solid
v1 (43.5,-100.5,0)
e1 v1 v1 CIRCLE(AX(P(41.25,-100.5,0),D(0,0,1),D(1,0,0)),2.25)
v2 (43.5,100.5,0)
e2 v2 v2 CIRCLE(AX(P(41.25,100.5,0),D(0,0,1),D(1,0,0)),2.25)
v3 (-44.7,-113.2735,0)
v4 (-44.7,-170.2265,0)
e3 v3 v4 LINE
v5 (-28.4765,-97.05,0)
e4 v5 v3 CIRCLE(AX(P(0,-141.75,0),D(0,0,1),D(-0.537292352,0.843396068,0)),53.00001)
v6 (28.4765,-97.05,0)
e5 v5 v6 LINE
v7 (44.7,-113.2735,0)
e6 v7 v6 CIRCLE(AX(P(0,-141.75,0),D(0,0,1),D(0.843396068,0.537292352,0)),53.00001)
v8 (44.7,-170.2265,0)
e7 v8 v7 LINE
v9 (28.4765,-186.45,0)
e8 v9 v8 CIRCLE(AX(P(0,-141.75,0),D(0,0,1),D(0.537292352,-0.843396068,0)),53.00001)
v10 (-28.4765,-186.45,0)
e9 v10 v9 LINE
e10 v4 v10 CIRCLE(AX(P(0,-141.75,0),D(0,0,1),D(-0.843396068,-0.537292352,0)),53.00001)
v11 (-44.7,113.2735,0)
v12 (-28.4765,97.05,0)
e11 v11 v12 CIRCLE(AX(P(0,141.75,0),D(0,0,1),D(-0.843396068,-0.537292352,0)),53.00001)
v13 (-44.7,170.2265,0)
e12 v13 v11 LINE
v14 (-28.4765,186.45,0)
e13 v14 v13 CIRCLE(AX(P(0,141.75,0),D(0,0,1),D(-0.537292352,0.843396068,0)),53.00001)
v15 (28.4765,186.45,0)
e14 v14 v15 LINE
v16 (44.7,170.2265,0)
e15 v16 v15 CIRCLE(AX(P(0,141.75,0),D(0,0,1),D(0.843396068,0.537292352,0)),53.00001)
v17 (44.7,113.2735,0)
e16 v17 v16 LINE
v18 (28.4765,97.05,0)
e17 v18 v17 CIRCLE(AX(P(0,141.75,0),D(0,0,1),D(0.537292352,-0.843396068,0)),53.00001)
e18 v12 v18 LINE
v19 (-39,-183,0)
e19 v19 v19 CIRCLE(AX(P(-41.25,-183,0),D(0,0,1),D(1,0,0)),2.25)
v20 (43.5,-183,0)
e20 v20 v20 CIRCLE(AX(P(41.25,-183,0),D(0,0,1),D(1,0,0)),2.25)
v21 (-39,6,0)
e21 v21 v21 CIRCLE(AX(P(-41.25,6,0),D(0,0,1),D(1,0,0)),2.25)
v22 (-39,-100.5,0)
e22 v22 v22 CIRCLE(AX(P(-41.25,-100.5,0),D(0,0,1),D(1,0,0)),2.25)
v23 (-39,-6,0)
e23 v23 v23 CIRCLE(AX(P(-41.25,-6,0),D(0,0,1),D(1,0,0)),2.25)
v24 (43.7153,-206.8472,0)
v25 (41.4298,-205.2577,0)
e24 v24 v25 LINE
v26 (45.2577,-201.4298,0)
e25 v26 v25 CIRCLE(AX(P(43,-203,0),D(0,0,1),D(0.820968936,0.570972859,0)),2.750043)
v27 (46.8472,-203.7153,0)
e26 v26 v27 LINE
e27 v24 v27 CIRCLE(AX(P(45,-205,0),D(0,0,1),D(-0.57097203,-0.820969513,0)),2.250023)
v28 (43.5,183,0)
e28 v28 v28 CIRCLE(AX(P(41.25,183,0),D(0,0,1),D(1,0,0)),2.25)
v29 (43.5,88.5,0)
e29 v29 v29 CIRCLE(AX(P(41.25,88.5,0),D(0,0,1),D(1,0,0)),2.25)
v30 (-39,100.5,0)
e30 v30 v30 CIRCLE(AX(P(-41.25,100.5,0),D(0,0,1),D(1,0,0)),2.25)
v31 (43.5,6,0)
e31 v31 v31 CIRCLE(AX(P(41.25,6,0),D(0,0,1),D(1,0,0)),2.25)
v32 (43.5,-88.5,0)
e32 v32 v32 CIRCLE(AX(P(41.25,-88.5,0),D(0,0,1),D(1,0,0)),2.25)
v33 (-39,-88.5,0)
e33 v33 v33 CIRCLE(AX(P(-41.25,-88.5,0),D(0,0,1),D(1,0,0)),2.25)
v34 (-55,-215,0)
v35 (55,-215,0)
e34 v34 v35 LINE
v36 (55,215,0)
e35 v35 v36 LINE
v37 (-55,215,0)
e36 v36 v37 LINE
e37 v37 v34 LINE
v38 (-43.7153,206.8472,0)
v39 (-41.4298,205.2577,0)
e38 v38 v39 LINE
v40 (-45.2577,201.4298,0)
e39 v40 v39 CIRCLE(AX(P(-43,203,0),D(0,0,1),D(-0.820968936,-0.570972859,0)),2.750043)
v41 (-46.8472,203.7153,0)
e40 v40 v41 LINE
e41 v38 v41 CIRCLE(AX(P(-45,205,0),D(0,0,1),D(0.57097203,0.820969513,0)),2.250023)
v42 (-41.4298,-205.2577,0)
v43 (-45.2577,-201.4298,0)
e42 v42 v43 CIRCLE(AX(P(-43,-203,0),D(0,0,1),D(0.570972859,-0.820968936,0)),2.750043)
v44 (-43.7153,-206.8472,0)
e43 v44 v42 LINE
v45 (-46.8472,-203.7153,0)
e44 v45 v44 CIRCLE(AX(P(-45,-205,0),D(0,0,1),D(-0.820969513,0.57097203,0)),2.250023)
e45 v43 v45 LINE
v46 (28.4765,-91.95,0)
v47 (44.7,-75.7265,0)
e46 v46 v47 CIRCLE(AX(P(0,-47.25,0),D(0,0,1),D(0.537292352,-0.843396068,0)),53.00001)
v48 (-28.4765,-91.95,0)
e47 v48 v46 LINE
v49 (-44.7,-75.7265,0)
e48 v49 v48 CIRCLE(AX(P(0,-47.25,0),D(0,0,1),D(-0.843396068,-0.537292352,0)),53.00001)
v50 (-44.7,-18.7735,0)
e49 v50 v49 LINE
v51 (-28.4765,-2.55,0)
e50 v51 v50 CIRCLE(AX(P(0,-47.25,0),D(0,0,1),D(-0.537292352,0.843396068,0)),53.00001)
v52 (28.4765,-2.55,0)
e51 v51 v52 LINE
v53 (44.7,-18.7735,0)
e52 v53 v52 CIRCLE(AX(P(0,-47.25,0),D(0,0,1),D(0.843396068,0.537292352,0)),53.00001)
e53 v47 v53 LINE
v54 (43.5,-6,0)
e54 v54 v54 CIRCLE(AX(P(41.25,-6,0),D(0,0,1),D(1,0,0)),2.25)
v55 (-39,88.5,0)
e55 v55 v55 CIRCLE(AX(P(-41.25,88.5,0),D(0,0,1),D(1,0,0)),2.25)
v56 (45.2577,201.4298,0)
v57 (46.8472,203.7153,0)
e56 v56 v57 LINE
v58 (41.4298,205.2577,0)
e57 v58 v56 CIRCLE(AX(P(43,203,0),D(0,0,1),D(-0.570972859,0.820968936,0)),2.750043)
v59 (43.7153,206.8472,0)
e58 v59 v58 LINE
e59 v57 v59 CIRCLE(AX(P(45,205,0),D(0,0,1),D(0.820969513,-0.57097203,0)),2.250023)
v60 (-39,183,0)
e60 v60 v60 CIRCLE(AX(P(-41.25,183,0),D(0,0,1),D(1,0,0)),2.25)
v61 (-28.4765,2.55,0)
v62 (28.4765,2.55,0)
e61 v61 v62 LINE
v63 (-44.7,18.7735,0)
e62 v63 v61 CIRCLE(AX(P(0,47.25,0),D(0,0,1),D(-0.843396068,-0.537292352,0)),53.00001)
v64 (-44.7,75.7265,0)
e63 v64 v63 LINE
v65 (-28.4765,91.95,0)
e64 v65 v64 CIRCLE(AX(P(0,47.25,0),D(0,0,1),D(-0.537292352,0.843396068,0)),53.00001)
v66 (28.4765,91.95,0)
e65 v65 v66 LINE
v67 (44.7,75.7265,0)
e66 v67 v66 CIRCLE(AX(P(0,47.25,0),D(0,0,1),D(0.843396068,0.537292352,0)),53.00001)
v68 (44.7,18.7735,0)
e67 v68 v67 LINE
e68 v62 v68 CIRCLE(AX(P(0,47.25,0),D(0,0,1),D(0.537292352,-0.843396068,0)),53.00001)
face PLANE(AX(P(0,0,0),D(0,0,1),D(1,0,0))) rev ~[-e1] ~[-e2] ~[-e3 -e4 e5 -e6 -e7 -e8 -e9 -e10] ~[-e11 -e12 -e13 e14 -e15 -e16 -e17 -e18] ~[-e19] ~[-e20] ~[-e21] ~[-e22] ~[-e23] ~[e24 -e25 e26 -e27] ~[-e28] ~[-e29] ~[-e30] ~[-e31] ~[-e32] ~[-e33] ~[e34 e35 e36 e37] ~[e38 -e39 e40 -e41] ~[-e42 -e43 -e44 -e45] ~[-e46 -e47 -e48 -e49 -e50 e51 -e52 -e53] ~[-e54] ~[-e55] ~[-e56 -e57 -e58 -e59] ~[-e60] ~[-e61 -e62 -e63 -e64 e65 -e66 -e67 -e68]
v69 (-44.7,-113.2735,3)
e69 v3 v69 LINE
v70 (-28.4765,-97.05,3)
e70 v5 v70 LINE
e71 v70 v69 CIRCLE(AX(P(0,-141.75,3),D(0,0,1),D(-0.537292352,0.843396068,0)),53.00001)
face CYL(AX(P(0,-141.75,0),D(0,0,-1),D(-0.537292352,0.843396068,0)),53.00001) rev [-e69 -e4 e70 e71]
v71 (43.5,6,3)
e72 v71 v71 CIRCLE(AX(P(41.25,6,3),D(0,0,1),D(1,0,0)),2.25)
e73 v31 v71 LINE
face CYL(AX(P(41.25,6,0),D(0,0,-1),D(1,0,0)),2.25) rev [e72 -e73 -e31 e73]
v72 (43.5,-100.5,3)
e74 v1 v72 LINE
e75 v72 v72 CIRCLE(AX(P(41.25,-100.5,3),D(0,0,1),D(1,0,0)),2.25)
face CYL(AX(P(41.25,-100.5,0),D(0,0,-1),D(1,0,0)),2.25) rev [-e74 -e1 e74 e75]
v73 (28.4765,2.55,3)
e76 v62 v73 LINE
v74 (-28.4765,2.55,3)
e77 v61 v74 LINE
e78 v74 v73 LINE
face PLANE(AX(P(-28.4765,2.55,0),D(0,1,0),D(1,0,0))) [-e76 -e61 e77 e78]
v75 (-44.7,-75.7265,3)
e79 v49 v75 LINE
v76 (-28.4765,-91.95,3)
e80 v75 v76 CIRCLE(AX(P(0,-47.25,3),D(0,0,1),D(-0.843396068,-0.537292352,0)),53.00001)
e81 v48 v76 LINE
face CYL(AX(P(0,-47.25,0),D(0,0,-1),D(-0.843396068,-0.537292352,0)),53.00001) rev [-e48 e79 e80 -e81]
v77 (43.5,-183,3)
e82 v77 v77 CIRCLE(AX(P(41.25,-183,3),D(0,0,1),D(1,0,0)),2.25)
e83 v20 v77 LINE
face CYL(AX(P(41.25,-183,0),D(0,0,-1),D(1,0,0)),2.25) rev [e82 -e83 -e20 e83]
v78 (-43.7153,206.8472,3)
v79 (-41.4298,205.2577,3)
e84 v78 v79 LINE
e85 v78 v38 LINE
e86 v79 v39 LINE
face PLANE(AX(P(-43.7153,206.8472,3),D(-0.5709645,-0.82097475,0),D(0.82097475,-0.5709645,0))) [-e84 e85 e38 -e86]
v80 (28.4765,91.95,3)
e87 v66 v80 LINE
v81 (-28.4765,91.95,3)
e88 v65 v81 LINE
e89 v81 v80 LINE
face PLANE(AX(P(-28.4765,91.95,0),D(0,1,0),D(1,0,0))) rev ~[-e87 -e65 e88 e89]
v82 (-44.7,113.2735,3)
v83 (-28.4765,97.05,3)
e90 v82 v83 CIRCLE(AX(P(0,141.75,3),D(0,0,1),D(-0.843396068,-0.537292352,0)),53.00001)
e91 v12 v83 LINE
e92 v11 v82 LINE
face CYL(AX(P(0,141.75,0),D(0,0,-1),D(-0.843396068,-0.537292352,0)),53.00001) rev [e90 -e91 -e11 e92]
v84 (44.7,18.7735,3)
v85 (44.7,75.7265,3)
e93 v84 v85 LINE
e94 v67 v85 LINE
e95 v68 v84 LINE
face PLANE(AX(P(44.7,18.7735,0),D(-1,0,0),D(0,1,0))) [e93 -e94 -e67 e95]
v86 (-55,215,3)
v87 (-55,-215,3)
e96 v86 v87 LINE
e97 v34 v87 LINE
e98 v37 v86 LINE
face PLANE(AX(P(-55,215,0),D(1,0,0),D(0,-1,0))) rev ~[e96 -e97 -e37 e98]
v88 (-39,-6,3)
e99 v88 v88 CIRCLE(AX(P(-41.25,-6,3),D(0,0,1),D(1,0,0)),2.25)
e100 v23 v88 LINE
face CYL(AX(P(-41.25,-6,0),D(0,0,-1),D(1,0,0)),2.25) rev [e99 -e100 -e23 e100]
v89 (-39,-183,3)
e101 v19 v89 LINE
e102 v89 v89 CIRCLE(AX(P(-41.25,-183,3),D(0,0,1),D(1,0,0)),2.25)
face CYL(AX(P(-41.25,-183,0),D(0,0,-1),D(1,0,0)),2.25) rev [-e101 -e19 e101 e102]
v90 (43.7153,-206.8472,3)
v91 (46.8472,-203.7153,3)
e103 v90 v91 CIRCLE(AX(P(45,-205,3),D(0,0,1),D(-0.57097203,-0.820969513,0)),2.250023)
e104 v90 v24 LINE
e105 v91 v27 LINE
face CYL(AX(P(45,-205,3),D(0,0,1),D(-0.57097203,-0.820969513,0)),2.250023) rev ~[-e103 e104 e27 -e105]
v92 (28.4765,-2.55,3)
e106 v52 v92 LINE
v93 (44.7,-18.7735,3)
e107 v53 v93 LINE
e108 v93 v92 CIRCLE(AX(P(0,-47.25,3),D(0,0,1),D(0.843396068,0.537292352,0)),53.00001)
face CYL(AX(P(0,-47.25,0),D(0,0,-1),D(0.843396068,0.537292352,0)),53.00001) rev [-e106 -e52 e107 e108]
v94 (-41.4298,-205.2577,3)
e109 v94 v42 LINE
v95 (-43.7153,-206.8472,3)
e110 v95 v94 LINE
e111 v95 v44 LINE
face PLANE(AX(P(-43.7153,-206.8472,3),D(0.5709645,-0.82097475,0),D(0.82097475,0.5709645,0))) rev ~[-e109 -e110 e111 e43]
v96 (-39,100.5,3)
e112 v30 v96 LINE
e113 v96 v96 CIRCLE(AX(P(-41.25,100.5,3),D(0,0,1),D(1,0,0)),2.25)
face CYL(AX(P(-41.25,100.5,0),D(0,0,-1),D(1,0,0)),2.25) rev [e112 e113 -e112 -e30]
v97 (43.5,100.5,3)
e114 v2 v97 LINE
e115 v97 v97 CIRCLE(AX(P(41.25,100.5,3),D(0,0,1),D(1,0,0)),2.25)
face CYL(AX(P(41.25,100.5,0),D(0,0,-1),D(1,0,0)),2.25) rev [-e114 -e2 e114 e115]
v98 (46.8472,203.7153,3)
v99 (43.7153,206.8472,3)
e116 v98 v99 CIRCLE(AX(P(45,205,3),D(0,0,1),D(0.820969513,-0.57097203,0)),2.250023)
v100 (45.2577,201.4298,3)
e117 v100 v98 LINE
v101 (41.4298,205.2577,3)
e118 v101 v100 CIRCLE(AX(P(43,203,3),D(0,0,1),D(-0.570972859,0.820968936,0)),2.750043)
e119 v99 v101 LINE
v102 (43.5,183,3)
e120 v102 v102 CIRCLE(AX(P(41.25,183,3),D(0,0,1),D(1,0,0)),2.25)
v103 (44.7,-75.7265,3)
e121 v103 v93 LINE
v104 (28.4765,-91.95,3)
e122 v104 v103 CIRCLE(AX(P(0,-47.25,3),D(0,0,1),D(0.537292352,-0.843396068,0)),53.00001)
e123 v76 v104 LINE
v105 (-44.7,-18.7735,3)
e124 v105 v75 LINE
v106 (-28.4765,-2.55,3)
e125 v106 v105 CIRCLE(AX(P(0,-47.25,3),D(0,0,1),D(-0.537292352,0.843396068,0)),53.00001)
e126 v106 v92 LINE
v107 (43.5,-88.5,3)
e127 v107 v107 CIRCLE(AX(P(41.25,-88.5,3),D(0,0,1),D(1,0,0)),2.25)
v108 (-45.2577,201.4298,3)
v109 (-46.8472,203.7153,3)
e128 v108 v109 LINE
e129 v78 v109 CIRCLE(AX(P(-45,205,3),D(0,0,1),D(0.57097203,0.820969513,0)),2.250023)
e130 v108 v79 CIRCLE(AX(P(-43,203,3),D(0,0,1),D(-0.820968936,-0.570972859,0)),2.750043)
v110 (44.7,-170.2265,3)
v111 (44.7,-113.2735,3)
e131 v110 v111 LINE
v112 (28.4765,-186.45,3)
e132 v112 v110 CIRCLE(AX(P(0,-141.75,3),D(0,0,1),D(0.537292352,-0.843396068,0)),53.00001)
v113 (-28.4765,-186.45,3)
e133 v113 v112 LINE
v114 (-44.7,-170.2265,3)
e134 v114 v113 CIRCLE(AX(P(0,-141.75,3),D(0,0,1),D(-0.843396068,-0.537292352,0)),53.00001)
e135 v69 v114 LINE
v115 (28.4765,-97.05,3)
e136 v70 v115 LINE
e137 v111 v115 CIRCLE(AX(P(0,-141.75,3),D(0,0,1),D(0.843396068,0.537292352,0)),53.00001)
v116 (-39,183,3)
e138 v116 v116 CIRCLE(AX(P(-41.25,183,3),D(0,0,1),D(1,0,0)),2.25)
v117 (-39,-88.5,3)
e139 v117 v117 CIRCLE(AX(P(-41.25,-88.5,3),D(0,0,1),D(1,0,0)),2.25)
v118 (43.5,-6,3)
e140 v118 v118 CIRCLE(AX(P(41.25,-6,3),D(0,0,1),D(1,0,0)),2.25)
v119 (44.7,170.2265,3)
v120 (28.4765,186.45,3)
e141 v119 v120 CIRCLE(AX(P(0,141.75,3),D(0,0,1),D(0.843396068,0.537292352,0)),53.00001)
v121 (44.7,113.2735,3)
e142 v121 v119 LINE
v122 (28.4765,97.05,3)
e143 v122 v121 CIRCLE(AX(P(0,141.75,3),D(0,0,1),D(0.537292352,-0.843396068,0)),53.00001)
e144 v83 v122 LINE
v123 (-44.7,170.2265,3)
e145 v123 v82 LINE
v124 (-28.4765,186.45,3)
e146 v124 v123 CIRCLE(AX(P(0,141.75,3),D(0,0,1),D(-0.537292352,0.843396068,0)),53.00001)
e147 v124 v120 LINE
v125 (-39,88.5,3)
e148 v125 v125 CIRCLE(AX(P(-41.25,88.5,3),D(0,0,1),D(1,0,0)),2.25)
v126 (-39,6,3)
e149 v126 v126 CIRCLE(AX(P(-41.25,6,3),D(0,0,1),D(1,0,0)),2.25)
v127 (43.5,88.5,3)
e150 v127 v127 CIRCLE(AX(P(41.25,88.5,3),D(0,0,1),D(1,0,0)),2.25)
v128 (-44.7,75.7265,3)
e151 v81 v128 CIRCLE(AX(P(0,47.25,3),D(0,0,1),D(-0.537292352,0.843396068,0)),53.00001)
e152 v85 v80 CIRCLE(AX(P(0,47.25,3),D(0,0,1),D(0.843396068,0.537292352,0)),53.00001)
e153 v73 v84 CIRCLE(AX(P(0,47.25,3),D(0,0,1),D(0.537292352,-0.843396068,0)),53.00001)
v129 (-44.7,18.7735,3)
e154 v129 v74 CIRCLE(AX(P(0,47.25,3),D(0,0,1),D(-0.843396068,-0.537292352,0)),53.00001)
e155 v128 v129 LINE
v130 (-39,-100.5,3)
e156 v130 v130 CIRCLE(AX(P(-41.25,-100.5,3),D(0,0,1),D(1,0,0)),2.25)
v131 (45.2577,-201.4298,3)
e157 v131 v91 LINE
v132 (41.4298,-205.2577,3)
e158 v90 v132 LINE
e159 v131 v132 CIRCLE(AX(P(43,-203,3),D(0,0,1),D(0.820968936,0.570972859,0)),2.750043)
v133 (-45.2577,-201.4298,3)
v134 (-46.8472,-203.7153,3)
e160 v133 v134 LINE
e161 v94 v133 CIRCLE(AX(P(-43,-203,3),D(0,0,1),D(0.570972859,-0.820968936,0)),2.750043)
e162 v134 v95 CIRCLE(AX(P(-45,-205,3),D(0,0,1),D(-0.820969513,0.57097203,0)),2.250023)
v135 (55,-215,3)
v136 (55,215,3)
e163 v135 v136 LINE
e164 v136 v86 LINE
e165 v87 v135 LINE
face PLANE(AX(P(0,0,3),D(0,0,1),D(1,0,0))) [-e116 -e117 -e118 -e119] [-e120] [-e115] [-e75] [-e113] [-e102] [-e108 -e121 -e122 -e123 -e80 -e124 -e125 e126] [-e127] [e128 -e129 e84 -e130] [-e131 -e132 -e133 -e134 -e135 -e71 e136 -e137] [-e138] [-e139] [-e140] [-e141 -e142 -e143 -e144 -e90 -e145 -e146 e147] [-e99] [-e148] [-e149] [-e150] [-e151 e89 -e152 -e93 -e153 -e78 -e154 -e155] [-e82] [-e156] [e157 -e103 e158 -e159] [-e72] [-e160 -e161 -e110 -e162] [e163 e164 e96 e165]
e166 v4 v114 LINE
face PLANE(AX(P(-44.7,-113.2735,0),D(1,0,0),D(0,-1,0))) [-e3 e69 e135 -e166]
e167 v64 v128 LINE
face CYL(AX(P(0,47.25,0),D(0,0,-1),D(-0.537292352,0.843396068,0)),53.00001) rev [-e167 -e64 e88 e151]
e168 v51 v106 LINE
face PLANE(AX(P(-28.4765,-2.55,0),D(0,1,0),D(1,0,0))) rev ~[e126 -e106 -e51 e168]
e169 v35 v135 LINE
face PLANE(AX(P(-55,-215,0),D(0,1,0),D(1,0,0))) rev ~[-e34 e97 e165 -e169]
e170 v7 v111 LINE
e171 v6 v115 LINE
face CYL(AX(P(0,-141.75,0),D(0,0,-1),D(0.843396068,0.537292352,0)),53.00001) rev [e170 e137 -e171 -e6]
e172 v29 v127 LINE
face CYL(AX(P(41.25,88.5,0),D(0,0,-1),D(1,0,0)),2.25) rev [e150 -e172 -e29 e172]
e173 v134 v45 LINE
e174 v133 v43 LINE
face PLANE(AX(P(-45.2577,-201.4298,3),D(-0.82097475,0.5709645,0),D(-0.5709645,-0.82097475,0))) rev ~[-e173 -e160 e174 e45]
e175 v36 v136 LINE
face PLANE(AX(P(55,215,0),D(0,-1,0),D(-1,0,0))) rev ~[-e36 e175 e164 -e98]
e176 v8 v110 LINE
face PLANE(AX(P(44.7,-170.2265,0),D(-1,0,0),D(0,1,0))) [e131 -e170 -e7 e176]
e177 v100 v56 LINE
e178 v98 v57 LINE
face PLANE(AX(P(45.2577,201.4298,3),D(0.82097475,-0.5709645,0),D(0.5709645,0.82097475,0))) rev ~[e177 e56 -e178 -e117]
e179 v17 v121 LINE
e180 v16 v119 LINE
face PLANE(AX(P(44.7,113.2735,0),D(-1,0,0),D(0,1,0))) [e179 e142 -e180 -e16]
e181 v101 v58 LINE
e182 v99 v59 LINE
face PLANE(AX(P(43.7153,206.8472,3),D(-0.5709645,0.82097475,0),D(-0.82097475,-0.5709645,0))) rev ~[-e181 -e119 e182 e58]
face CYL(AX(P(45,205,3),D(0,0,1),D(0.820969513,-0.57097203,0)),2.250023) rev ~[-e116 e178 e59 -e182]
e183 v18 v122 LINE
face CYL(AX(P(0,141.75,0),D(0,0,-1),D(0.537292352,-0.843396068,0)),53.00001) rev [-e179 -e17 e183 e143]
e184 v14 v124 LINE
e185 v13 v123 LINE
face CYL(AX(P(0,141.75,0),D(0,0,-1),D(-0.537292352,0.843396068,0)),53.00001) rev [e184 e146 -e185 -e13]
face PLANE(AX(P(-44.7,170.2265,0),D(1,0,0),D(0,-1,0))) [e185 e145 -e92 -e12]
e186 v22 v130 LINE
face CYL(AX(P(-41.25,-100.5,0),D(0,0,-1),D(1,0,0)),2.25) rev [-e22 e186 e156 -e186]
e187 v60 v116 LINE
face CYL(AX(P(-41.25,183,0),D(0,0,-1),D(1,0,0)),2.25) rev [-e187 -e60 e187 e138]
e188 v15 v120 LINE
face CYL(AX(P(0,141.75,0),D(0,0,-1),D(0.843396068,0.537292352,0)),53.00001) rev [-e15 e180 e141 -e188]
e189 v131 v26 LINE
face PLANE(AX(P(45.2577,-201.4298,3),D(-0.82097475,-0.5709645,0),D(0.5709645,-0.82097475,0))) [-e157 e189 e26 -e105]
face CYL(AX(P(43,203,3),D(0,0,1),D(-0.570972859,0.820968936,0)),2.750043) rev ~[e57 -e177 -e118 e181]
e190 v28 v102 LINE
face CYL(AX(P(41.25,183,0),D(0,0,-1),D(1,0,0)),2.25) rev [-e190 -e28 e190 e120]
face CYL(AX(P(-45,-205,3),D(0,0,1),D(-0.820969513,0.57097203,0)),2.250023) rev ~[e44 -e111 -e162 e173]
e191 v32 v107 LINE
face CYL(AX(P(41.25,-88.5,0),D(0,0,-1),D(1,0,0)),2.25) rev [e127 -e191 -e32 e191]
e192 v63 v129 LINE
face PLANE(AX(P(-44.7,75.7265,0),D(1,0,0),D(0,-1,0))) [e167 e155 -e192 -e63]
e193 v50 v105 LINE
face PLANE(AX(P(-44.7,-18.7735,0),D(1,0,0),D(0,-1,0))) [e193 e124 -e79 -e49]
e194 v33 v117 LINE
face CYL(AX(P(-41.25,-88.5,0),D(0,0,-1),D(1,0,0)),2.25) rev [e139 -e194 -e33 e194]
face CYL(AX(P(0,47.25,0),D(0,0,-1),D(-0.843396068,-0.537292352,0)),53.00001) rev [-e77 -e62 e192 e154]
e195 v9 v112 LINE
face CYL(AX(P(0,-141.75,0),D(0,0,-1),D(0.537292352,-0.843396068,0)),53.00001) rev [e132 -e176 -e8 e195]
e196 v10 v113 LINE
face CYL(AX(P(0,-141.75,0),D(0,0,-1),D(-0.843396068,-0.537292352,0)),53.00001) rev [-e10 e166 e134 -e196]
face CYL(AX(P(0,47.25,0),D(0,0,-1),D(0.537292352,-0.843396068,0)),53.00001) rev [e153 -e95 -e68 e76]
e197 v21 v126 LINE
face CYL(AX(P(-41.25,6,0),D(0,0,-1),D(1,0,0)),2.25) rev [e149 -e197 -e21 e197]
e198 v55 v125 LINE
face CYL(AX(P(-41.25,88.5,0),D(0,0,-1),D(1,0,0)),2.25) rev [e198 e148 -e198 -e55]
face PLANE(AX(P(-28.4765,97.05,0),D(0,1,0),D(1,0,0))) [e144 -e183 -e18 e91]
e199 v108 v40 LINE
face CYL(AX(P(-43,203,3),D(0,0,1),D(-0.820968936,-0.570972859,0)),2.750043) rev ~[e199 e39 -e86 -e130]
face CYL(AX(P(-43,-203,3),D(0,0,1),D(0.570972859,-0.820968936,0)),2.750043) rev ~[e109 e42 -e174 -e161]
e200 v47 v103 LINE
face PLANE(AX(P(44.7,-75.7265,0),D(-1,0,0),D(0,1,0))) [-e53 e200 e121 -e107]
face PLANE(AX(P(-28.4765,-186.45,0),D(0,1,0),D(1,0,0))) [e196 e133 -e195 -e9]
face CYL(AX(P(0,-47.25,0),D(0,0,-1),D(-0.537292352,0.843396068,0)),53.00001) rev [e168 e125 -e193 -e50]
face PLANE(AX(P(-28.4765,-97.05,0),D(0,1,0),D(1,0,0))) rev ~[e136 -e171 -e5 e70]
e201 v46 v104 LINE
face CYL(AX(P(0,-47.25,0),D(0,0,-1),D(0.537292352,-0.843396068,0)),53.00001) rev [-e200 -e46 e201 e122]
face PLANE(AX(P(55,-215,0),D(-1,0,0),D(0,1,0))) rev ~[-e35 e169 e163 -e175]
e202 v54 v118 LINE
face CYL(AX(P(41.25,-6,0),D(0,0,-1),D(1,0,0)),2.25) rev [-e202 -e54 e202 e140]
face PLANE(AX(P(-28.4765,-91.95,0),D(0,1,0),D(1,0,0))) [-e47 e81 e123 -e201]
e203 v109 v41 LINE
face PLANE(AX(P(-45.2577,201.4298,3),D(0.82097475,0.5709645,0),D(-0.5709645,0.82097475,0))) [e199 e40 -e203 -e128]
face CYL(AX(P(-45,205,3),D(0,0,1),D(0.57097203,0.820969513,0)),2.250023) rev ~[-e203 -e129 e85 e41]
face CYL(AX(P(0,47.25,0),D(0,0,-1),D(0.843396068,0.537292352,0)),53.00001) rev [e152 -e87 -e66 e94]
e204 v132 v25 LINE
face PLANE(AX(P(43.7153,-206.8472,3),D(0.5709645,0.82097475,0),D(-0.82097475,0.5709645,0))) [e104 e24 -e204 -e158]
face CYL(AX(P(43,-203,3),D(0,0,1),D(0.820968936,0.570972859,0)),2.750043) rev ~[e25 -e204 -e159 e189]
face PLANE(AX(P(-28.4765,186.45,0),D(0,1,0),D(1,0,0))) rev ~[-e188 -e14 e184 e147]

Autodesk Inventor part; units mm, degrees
ref_plane "YZ Plane" through (0, 0, 0) normal (1, 0, 0) x (0, 1, 0)
ref_plane "XZ Plane" through (0, 0, 0) normal (0, 1, 0) x (-1, 0, 0)
ref_plane "XY Plane" through (0, 0, 0) normal (0, 0, 1) x (1, 0, 0)
sketch "スケッチ1" plane through (0, 0, 0) normal (0, 0, 1) x (1, 0, 0)
  line L0 (-55, -215) -> (55, -215)
  line L1 (55, -215) -> (55, 215)
  line L2 (55, 215) -> (-55, 215)
  line L3 (-55, 215) -> (-55, -215)
  line L4 (-55, -215) -> (55, 215) construction
  line L5 (55, -215) -> (-55, 215) construction
  line L6 (-55, 185) -> (-50, 185) construction
  line L7 (-50, 185) -> (-25, 210) construction
  line L8 (-25, 210) -> (-25, 215) construction
  line L9 (-46, 95.75) -> (46, 95.75) construction
  line L10 (46, 95.75) -> (46, 187.75) construction
  line L11 (46, 187.75) -> (-46, 187.75) construction
  line L12 (-46, 187.75) -> (-46, 95.75) construction
  line L13 (-46, 95.75) -> (46, 187.75) construction
  line L14 (46, 95.75) -> (-46, 187.75) construction
  line L15 (-46, 1.25) -> (46, 1.25) construction
  line L16 (46, 1.25) -> (46, 93.25) construction
  line L17 (46, 93.25) -> (-46, 93.25) construction
  line L18 (-46, 93.25) -> (-46, 1.25) construction
  line L19 (-46, 1.25) -> (46, 93.25) construction
  line L20 (46, 1.25) -> (-46, 93.25) construction
  line L21 (0, 0) -> (0, 141.75) construction
  circle A0 centre (0, 141.75) radius 53 construction
  line L22 (-44.7, 97.05) -> (44.7, 97.05) construction
  line L23 (44.7, 97.05) -> (44.7, 186.45) construction
  line L24 (44.7, 186.45) -> (-44.7, 186.45) construction
  line L25 (-44.7, 186.45) -> (-44.7, 97.05) construction
  line L26 (-44.7, 97.05) -> (44.7, 186.45) construction
  line L27 (44.7, 97.05) -> (-44.7, 186.45) construction
  arc A1 (-28.4765, 186.45) -> (-44.7, 170.2265) centre (0, 141.75) ccw
  arc A2 (-44.7, 113.2735) -> (-28.4765, 97.05) centre (0, 141.75) ccw
  arc A3 (28.4765, 97.05) -> (44.7, 113.2735) centre (0, 141.75) ccw
  arc A4 (44.7, 170.2265) -> (28.4765, 186.45) centre (0, 141.75) ccw
  line L28 (-28.4765, 186.45) -> (28.4765, 186.45)
  line L29 (-44.7, 170.2265) -> (-44.7, 113.2735)
  line L30 (-28.4765, 97.05) -> (28.4765, 97.05)
  line L31 (44.7, 113.2735) -> (44.7, 170.2265)
  line L32 (-41.25, 100.5) -> (41.25, 100.5) construction
  line L33 (41.25, 100.5) -> (41.25, 183) construction
  line L34 (41.25, 183) -> (-41.25, 183) construction
  line L35 (-41.25, 183) -> (-41.25, 100.5) construction
  line L36 (-41.25, 100.5) -> (41.25, 183) construction
  line L37 (41.25, 100.5) -> (-41.25, 183) construction
  circle A5 centre (-41.25, 183) radius 2.25
  circle A6 centre (-41.25, 100.5) radius 2.25
  circle A7 centre (41.25, 100.5) radius 2.25
  circle A8 centre (41.25, 183) radius 2.25
  circle A9 centre (-41.25, 88.5) radius 2.25
  arc A10 (-28.4765, 91.95) -> (-44.7, 75.7265) centre (0, 47.25) ccw
  line L38 (-28.4765, 91.95) -> (28.4765, 91.95)
  arc A11 (44.7, 75.7265) -> (28.4765, 91.95) centre (0, 47.25) ccw
  circle A12 centre (41.25, 88.5) radius 2.25
  line L39 (44.7, 18.7735) -> (44.7, 75.7265)
  arc A13 (28.4765, 2.55) -> (44.7, 18.7735) centre (0, 47.25) ccw
  circle A14 centre (41.25, 6) radius 2.25
  line L40 (-28.4765, 2.55) -> (28.4765, 2.55)
  circle A15 centre (-41.25, 6) radius 2.25
  arc A16 (-44.7, 18.7735) -> (-28.4765, 2.55) centre (0, 47.25) ccw
  line L41 (-44.7, 75.7265) -> (-44.7, 18.7735)
  circle A17 centre (-41.25, -6) radius 2.25
  arc A18 (-28.4765, -2.55) -> (-44.7, -18.7735) centre (0, -47.25) ccw
  line L42 (-28.4765, -2.55) -> (28.4765, -2.55)
  arc A19 (44.7, -18.7735) -> (28.4765, -2.55) centre (0, -47.25) ccw
  circle A20 centre (41.25, -6) radius 2.25
  line L43 (44.7, -75.7265) -> (44.7, -18.7735)
  arc A21 (28.4765, -91.95) -> (44.7, -75.7265) centre (0, -47.25) ccw
  circle A22 centre (41.25, -88.5) radius 2.25
  line L44 (-28.4765, -91.95) -> (28.4765, -91.95)
  circle A23 centre (-41.25, -88.5) radius 2.25
  arc A24 (-44.7, -75.7265) -> (-28.4765, -91.95) centre (0, -47.25) ccw
  line L45 (-44.7, -18.7735) -> (-44.7, -75.7265)
  circle A25 centre (-41.25, -100.5) radius 2.25
  arc A26 (-28.4765, -97.05) -> (-44.7, -113.2735) centre (0, -141.75) ccw
  line L46 (-28.4765, -97.05) -> (28.4765, -97.05)
  arc A27 (44.7, -113.2735) -> (28.4765, -97.05) centre (0, -141.75) ccw
  circle A28 centre (41.25, -100.5) radius 2.25
  line L47 (44.7, -170.2265) -> (44.7, -113.2735)
  arc A29 (28.4765, -186.45) -> (44.7, -170.2265) centre (0, -141.75) ccw
  circle A30 centre (41.25, -183) radius 2.25
  line L48 (-28.4765, -186.45) -> (28.4765, -186.45)
  circle A31 centre (-41.25, -183) radius 2.25
  arc A32 (-44.7, -170.2265) -> (-28.4765, -186.45) centre (0, -141.75) ccw
  line L49 (-44.7, -113.2735) -> (-44.7, -170.2265)
  circle A33 centre (-45, 205) radius 2.25
  circle A34 centre (45, 205) radius 2.25
  circle A35 centre (45, -205) radius 2.25
  circle A36 centre (-45, -205) radius 2.25
  circle A37 centre (-45, 0) radius 2.25
  circle A38 centre (45, 0) radius 2.25
  line L50 (-55, 0) -> (55, 0) construction
  point P0 (0, 47.25)
  point P1 (0, 47.25)
  dimension "d12" = 106
  dimension "d0" = 110
  dimension "d1" = 430
  dimension "d2" = 135
  dimension "d3" = 30
  dimension "d4" = 30
  dimension "d5" = 5
  dimension "d6" = 92
  dimension "d7" = 92
  dimension "d8" = 92
  dimension "d9" = 92
  dimension "d10" = 2.5
  dimension "d11" = 1.25
  dimension "d13" = 89.4
  dimension "d14" = 89.4
  dimension "d15" = 82.5
  dimension "d16" = 82.5
  dimension "d17" = 4.5
  dimension "d20" = 94.5
  dimension "d25" = 4.5
  dimension "d26" = 10
  dimension "d27" = 10
  dimension "d28" = 10
  dimension "d29" = 10
  dimension "d30" = 10
  dimension "d31" = 10
  dimension "d32" = 10
  dimension "d33" = 10
  dimension "d34" = 10
  dimension "d35" = 10
extrude "押し出し1" add sketch "スケッチ1" along normal blind 3 contours L3 L2 L1 L0 | A37 | A38
sketch "スケッチ2" plane through (0, 0, 3) normal (0, 0, 1) x (1, 0, 0)
  circle A0 centre (-45, 205) radius 2.25 construction
  circle A1 centre (45, -205) radius 2.25 construction
  circle A2 centre (-45, -205) radius 2.25 construction
  circle A3 centre (-43, 203) radius 2.75 construction
  line L0 (55, 215) -> (-55, 215) projected
  line L1 (-55, 215) -> (-55, -215) projected
  line L2 (-43.7153, 206.8472) -> (-41.4298, 205.2577)
  line L3 (-45.2577, 201.4298) -> (-46.8472, 203.7153)
  circle A4 centre (-45, 205) radius 2.25 construction
  arc A5 (-43.7153, 206.8472) -> (-46.8472, 203.7153) centre (-45, 205) ccw
  arc A6 (-45.2577, 201.4298) -> (-41.4298, 205.2577) centre (-43, 203) ccw
  line L4 (55, 215) -> (-55, 215) construction
  line L5 (0, 215) -> (0, -215) construction
  line L6 (-55, -215) -> (55, -215) construction
  line L7 (-55, 0) -> (55, 0) construction
  line L8 (55, -215) -> (55, 215) construction
  circle A7 centre (45, 205) radius 2.25 construction
  circle A8 centre (43, 203) radius 2.75 construction
  line L9 (43.7153, 206.8472) -> (41.4298, 205.2577)
  line L10 (45.2577, 201.4298) -> (46.8472, 203.7153)
  circle A9 centre (45, 205) radius 2.25 construction
  arc A10 (46.8472, 203.7153) -> (43.7153, 206.8472) centre (45, 205) ccw
  arc A11 (41.4298, 205.2577) -> (45.2577, 201.4298) centre (43, 203) ccw
  circle A12 centre (-45, -205) radius 2.25 construction
  circle A13 centre (-43, -203) radius 2.75 construction
  line L11 (-43.7153, -206.8472) -> (-41.4298, -205.2577)
  line L12 (-45.2577, -201.4298) -> (-46.8472, -203.7153)
  circle A14 centre (-45, -205) radius 2.25 construction
  arc A15 (-46.8472, -203.7153) -> (-43.7153, -206.8472) centre (-45, -205) ccw
  arc A16 (-41.4298, -205.2577) -> (-45.2577, -201.4298) centre (-43, -203) ccw
  circle A17 centre (45, -205) radius 2.25 construction
  line L13 (45.2577, -201.4298) -> (46.8472, -203.7153)
  arc A18 (45.2577, -201.4298) -> (41.4298, -205.2577) centre (43, -203) ccw
  circle A19 centre (43, -203) radius 2.75 construction
  line L14 (43.7153, -206.8472) -> (41.4298, -205.2577)
  circle A20 centre (45, -205) radius 2.25 construction
  arc A21 (43.7153, -206.8472) -> (46.8472, -203.7153) centre (45, -205) ccw
  point P0 (0, 0)
  dimension "d38" = 5.5
  dimension "d39" = 12
  dimension "d40" = 12
extrude "押し出し2" cut sketch "スケッチ2" against normal through all
equation "\"d4\" = d3"
equation "\"d11\" = 0.5 * d10"
equation "\"d20\" = d7 + d10"
equation "\"d27\" = d26"
equation "\"d28\" = d26"
equation "\"d29\" = d26"
equation "\"d30\" = d26"
equation "\"d31\" = d26"
equation "\"d32\" = d26"
equation "\"d33\" = d26"
equation "\"d34\" = d26"
equation "\"d35\" = d26"
properties part number "front_panel" material "アルミニウム 6061"
